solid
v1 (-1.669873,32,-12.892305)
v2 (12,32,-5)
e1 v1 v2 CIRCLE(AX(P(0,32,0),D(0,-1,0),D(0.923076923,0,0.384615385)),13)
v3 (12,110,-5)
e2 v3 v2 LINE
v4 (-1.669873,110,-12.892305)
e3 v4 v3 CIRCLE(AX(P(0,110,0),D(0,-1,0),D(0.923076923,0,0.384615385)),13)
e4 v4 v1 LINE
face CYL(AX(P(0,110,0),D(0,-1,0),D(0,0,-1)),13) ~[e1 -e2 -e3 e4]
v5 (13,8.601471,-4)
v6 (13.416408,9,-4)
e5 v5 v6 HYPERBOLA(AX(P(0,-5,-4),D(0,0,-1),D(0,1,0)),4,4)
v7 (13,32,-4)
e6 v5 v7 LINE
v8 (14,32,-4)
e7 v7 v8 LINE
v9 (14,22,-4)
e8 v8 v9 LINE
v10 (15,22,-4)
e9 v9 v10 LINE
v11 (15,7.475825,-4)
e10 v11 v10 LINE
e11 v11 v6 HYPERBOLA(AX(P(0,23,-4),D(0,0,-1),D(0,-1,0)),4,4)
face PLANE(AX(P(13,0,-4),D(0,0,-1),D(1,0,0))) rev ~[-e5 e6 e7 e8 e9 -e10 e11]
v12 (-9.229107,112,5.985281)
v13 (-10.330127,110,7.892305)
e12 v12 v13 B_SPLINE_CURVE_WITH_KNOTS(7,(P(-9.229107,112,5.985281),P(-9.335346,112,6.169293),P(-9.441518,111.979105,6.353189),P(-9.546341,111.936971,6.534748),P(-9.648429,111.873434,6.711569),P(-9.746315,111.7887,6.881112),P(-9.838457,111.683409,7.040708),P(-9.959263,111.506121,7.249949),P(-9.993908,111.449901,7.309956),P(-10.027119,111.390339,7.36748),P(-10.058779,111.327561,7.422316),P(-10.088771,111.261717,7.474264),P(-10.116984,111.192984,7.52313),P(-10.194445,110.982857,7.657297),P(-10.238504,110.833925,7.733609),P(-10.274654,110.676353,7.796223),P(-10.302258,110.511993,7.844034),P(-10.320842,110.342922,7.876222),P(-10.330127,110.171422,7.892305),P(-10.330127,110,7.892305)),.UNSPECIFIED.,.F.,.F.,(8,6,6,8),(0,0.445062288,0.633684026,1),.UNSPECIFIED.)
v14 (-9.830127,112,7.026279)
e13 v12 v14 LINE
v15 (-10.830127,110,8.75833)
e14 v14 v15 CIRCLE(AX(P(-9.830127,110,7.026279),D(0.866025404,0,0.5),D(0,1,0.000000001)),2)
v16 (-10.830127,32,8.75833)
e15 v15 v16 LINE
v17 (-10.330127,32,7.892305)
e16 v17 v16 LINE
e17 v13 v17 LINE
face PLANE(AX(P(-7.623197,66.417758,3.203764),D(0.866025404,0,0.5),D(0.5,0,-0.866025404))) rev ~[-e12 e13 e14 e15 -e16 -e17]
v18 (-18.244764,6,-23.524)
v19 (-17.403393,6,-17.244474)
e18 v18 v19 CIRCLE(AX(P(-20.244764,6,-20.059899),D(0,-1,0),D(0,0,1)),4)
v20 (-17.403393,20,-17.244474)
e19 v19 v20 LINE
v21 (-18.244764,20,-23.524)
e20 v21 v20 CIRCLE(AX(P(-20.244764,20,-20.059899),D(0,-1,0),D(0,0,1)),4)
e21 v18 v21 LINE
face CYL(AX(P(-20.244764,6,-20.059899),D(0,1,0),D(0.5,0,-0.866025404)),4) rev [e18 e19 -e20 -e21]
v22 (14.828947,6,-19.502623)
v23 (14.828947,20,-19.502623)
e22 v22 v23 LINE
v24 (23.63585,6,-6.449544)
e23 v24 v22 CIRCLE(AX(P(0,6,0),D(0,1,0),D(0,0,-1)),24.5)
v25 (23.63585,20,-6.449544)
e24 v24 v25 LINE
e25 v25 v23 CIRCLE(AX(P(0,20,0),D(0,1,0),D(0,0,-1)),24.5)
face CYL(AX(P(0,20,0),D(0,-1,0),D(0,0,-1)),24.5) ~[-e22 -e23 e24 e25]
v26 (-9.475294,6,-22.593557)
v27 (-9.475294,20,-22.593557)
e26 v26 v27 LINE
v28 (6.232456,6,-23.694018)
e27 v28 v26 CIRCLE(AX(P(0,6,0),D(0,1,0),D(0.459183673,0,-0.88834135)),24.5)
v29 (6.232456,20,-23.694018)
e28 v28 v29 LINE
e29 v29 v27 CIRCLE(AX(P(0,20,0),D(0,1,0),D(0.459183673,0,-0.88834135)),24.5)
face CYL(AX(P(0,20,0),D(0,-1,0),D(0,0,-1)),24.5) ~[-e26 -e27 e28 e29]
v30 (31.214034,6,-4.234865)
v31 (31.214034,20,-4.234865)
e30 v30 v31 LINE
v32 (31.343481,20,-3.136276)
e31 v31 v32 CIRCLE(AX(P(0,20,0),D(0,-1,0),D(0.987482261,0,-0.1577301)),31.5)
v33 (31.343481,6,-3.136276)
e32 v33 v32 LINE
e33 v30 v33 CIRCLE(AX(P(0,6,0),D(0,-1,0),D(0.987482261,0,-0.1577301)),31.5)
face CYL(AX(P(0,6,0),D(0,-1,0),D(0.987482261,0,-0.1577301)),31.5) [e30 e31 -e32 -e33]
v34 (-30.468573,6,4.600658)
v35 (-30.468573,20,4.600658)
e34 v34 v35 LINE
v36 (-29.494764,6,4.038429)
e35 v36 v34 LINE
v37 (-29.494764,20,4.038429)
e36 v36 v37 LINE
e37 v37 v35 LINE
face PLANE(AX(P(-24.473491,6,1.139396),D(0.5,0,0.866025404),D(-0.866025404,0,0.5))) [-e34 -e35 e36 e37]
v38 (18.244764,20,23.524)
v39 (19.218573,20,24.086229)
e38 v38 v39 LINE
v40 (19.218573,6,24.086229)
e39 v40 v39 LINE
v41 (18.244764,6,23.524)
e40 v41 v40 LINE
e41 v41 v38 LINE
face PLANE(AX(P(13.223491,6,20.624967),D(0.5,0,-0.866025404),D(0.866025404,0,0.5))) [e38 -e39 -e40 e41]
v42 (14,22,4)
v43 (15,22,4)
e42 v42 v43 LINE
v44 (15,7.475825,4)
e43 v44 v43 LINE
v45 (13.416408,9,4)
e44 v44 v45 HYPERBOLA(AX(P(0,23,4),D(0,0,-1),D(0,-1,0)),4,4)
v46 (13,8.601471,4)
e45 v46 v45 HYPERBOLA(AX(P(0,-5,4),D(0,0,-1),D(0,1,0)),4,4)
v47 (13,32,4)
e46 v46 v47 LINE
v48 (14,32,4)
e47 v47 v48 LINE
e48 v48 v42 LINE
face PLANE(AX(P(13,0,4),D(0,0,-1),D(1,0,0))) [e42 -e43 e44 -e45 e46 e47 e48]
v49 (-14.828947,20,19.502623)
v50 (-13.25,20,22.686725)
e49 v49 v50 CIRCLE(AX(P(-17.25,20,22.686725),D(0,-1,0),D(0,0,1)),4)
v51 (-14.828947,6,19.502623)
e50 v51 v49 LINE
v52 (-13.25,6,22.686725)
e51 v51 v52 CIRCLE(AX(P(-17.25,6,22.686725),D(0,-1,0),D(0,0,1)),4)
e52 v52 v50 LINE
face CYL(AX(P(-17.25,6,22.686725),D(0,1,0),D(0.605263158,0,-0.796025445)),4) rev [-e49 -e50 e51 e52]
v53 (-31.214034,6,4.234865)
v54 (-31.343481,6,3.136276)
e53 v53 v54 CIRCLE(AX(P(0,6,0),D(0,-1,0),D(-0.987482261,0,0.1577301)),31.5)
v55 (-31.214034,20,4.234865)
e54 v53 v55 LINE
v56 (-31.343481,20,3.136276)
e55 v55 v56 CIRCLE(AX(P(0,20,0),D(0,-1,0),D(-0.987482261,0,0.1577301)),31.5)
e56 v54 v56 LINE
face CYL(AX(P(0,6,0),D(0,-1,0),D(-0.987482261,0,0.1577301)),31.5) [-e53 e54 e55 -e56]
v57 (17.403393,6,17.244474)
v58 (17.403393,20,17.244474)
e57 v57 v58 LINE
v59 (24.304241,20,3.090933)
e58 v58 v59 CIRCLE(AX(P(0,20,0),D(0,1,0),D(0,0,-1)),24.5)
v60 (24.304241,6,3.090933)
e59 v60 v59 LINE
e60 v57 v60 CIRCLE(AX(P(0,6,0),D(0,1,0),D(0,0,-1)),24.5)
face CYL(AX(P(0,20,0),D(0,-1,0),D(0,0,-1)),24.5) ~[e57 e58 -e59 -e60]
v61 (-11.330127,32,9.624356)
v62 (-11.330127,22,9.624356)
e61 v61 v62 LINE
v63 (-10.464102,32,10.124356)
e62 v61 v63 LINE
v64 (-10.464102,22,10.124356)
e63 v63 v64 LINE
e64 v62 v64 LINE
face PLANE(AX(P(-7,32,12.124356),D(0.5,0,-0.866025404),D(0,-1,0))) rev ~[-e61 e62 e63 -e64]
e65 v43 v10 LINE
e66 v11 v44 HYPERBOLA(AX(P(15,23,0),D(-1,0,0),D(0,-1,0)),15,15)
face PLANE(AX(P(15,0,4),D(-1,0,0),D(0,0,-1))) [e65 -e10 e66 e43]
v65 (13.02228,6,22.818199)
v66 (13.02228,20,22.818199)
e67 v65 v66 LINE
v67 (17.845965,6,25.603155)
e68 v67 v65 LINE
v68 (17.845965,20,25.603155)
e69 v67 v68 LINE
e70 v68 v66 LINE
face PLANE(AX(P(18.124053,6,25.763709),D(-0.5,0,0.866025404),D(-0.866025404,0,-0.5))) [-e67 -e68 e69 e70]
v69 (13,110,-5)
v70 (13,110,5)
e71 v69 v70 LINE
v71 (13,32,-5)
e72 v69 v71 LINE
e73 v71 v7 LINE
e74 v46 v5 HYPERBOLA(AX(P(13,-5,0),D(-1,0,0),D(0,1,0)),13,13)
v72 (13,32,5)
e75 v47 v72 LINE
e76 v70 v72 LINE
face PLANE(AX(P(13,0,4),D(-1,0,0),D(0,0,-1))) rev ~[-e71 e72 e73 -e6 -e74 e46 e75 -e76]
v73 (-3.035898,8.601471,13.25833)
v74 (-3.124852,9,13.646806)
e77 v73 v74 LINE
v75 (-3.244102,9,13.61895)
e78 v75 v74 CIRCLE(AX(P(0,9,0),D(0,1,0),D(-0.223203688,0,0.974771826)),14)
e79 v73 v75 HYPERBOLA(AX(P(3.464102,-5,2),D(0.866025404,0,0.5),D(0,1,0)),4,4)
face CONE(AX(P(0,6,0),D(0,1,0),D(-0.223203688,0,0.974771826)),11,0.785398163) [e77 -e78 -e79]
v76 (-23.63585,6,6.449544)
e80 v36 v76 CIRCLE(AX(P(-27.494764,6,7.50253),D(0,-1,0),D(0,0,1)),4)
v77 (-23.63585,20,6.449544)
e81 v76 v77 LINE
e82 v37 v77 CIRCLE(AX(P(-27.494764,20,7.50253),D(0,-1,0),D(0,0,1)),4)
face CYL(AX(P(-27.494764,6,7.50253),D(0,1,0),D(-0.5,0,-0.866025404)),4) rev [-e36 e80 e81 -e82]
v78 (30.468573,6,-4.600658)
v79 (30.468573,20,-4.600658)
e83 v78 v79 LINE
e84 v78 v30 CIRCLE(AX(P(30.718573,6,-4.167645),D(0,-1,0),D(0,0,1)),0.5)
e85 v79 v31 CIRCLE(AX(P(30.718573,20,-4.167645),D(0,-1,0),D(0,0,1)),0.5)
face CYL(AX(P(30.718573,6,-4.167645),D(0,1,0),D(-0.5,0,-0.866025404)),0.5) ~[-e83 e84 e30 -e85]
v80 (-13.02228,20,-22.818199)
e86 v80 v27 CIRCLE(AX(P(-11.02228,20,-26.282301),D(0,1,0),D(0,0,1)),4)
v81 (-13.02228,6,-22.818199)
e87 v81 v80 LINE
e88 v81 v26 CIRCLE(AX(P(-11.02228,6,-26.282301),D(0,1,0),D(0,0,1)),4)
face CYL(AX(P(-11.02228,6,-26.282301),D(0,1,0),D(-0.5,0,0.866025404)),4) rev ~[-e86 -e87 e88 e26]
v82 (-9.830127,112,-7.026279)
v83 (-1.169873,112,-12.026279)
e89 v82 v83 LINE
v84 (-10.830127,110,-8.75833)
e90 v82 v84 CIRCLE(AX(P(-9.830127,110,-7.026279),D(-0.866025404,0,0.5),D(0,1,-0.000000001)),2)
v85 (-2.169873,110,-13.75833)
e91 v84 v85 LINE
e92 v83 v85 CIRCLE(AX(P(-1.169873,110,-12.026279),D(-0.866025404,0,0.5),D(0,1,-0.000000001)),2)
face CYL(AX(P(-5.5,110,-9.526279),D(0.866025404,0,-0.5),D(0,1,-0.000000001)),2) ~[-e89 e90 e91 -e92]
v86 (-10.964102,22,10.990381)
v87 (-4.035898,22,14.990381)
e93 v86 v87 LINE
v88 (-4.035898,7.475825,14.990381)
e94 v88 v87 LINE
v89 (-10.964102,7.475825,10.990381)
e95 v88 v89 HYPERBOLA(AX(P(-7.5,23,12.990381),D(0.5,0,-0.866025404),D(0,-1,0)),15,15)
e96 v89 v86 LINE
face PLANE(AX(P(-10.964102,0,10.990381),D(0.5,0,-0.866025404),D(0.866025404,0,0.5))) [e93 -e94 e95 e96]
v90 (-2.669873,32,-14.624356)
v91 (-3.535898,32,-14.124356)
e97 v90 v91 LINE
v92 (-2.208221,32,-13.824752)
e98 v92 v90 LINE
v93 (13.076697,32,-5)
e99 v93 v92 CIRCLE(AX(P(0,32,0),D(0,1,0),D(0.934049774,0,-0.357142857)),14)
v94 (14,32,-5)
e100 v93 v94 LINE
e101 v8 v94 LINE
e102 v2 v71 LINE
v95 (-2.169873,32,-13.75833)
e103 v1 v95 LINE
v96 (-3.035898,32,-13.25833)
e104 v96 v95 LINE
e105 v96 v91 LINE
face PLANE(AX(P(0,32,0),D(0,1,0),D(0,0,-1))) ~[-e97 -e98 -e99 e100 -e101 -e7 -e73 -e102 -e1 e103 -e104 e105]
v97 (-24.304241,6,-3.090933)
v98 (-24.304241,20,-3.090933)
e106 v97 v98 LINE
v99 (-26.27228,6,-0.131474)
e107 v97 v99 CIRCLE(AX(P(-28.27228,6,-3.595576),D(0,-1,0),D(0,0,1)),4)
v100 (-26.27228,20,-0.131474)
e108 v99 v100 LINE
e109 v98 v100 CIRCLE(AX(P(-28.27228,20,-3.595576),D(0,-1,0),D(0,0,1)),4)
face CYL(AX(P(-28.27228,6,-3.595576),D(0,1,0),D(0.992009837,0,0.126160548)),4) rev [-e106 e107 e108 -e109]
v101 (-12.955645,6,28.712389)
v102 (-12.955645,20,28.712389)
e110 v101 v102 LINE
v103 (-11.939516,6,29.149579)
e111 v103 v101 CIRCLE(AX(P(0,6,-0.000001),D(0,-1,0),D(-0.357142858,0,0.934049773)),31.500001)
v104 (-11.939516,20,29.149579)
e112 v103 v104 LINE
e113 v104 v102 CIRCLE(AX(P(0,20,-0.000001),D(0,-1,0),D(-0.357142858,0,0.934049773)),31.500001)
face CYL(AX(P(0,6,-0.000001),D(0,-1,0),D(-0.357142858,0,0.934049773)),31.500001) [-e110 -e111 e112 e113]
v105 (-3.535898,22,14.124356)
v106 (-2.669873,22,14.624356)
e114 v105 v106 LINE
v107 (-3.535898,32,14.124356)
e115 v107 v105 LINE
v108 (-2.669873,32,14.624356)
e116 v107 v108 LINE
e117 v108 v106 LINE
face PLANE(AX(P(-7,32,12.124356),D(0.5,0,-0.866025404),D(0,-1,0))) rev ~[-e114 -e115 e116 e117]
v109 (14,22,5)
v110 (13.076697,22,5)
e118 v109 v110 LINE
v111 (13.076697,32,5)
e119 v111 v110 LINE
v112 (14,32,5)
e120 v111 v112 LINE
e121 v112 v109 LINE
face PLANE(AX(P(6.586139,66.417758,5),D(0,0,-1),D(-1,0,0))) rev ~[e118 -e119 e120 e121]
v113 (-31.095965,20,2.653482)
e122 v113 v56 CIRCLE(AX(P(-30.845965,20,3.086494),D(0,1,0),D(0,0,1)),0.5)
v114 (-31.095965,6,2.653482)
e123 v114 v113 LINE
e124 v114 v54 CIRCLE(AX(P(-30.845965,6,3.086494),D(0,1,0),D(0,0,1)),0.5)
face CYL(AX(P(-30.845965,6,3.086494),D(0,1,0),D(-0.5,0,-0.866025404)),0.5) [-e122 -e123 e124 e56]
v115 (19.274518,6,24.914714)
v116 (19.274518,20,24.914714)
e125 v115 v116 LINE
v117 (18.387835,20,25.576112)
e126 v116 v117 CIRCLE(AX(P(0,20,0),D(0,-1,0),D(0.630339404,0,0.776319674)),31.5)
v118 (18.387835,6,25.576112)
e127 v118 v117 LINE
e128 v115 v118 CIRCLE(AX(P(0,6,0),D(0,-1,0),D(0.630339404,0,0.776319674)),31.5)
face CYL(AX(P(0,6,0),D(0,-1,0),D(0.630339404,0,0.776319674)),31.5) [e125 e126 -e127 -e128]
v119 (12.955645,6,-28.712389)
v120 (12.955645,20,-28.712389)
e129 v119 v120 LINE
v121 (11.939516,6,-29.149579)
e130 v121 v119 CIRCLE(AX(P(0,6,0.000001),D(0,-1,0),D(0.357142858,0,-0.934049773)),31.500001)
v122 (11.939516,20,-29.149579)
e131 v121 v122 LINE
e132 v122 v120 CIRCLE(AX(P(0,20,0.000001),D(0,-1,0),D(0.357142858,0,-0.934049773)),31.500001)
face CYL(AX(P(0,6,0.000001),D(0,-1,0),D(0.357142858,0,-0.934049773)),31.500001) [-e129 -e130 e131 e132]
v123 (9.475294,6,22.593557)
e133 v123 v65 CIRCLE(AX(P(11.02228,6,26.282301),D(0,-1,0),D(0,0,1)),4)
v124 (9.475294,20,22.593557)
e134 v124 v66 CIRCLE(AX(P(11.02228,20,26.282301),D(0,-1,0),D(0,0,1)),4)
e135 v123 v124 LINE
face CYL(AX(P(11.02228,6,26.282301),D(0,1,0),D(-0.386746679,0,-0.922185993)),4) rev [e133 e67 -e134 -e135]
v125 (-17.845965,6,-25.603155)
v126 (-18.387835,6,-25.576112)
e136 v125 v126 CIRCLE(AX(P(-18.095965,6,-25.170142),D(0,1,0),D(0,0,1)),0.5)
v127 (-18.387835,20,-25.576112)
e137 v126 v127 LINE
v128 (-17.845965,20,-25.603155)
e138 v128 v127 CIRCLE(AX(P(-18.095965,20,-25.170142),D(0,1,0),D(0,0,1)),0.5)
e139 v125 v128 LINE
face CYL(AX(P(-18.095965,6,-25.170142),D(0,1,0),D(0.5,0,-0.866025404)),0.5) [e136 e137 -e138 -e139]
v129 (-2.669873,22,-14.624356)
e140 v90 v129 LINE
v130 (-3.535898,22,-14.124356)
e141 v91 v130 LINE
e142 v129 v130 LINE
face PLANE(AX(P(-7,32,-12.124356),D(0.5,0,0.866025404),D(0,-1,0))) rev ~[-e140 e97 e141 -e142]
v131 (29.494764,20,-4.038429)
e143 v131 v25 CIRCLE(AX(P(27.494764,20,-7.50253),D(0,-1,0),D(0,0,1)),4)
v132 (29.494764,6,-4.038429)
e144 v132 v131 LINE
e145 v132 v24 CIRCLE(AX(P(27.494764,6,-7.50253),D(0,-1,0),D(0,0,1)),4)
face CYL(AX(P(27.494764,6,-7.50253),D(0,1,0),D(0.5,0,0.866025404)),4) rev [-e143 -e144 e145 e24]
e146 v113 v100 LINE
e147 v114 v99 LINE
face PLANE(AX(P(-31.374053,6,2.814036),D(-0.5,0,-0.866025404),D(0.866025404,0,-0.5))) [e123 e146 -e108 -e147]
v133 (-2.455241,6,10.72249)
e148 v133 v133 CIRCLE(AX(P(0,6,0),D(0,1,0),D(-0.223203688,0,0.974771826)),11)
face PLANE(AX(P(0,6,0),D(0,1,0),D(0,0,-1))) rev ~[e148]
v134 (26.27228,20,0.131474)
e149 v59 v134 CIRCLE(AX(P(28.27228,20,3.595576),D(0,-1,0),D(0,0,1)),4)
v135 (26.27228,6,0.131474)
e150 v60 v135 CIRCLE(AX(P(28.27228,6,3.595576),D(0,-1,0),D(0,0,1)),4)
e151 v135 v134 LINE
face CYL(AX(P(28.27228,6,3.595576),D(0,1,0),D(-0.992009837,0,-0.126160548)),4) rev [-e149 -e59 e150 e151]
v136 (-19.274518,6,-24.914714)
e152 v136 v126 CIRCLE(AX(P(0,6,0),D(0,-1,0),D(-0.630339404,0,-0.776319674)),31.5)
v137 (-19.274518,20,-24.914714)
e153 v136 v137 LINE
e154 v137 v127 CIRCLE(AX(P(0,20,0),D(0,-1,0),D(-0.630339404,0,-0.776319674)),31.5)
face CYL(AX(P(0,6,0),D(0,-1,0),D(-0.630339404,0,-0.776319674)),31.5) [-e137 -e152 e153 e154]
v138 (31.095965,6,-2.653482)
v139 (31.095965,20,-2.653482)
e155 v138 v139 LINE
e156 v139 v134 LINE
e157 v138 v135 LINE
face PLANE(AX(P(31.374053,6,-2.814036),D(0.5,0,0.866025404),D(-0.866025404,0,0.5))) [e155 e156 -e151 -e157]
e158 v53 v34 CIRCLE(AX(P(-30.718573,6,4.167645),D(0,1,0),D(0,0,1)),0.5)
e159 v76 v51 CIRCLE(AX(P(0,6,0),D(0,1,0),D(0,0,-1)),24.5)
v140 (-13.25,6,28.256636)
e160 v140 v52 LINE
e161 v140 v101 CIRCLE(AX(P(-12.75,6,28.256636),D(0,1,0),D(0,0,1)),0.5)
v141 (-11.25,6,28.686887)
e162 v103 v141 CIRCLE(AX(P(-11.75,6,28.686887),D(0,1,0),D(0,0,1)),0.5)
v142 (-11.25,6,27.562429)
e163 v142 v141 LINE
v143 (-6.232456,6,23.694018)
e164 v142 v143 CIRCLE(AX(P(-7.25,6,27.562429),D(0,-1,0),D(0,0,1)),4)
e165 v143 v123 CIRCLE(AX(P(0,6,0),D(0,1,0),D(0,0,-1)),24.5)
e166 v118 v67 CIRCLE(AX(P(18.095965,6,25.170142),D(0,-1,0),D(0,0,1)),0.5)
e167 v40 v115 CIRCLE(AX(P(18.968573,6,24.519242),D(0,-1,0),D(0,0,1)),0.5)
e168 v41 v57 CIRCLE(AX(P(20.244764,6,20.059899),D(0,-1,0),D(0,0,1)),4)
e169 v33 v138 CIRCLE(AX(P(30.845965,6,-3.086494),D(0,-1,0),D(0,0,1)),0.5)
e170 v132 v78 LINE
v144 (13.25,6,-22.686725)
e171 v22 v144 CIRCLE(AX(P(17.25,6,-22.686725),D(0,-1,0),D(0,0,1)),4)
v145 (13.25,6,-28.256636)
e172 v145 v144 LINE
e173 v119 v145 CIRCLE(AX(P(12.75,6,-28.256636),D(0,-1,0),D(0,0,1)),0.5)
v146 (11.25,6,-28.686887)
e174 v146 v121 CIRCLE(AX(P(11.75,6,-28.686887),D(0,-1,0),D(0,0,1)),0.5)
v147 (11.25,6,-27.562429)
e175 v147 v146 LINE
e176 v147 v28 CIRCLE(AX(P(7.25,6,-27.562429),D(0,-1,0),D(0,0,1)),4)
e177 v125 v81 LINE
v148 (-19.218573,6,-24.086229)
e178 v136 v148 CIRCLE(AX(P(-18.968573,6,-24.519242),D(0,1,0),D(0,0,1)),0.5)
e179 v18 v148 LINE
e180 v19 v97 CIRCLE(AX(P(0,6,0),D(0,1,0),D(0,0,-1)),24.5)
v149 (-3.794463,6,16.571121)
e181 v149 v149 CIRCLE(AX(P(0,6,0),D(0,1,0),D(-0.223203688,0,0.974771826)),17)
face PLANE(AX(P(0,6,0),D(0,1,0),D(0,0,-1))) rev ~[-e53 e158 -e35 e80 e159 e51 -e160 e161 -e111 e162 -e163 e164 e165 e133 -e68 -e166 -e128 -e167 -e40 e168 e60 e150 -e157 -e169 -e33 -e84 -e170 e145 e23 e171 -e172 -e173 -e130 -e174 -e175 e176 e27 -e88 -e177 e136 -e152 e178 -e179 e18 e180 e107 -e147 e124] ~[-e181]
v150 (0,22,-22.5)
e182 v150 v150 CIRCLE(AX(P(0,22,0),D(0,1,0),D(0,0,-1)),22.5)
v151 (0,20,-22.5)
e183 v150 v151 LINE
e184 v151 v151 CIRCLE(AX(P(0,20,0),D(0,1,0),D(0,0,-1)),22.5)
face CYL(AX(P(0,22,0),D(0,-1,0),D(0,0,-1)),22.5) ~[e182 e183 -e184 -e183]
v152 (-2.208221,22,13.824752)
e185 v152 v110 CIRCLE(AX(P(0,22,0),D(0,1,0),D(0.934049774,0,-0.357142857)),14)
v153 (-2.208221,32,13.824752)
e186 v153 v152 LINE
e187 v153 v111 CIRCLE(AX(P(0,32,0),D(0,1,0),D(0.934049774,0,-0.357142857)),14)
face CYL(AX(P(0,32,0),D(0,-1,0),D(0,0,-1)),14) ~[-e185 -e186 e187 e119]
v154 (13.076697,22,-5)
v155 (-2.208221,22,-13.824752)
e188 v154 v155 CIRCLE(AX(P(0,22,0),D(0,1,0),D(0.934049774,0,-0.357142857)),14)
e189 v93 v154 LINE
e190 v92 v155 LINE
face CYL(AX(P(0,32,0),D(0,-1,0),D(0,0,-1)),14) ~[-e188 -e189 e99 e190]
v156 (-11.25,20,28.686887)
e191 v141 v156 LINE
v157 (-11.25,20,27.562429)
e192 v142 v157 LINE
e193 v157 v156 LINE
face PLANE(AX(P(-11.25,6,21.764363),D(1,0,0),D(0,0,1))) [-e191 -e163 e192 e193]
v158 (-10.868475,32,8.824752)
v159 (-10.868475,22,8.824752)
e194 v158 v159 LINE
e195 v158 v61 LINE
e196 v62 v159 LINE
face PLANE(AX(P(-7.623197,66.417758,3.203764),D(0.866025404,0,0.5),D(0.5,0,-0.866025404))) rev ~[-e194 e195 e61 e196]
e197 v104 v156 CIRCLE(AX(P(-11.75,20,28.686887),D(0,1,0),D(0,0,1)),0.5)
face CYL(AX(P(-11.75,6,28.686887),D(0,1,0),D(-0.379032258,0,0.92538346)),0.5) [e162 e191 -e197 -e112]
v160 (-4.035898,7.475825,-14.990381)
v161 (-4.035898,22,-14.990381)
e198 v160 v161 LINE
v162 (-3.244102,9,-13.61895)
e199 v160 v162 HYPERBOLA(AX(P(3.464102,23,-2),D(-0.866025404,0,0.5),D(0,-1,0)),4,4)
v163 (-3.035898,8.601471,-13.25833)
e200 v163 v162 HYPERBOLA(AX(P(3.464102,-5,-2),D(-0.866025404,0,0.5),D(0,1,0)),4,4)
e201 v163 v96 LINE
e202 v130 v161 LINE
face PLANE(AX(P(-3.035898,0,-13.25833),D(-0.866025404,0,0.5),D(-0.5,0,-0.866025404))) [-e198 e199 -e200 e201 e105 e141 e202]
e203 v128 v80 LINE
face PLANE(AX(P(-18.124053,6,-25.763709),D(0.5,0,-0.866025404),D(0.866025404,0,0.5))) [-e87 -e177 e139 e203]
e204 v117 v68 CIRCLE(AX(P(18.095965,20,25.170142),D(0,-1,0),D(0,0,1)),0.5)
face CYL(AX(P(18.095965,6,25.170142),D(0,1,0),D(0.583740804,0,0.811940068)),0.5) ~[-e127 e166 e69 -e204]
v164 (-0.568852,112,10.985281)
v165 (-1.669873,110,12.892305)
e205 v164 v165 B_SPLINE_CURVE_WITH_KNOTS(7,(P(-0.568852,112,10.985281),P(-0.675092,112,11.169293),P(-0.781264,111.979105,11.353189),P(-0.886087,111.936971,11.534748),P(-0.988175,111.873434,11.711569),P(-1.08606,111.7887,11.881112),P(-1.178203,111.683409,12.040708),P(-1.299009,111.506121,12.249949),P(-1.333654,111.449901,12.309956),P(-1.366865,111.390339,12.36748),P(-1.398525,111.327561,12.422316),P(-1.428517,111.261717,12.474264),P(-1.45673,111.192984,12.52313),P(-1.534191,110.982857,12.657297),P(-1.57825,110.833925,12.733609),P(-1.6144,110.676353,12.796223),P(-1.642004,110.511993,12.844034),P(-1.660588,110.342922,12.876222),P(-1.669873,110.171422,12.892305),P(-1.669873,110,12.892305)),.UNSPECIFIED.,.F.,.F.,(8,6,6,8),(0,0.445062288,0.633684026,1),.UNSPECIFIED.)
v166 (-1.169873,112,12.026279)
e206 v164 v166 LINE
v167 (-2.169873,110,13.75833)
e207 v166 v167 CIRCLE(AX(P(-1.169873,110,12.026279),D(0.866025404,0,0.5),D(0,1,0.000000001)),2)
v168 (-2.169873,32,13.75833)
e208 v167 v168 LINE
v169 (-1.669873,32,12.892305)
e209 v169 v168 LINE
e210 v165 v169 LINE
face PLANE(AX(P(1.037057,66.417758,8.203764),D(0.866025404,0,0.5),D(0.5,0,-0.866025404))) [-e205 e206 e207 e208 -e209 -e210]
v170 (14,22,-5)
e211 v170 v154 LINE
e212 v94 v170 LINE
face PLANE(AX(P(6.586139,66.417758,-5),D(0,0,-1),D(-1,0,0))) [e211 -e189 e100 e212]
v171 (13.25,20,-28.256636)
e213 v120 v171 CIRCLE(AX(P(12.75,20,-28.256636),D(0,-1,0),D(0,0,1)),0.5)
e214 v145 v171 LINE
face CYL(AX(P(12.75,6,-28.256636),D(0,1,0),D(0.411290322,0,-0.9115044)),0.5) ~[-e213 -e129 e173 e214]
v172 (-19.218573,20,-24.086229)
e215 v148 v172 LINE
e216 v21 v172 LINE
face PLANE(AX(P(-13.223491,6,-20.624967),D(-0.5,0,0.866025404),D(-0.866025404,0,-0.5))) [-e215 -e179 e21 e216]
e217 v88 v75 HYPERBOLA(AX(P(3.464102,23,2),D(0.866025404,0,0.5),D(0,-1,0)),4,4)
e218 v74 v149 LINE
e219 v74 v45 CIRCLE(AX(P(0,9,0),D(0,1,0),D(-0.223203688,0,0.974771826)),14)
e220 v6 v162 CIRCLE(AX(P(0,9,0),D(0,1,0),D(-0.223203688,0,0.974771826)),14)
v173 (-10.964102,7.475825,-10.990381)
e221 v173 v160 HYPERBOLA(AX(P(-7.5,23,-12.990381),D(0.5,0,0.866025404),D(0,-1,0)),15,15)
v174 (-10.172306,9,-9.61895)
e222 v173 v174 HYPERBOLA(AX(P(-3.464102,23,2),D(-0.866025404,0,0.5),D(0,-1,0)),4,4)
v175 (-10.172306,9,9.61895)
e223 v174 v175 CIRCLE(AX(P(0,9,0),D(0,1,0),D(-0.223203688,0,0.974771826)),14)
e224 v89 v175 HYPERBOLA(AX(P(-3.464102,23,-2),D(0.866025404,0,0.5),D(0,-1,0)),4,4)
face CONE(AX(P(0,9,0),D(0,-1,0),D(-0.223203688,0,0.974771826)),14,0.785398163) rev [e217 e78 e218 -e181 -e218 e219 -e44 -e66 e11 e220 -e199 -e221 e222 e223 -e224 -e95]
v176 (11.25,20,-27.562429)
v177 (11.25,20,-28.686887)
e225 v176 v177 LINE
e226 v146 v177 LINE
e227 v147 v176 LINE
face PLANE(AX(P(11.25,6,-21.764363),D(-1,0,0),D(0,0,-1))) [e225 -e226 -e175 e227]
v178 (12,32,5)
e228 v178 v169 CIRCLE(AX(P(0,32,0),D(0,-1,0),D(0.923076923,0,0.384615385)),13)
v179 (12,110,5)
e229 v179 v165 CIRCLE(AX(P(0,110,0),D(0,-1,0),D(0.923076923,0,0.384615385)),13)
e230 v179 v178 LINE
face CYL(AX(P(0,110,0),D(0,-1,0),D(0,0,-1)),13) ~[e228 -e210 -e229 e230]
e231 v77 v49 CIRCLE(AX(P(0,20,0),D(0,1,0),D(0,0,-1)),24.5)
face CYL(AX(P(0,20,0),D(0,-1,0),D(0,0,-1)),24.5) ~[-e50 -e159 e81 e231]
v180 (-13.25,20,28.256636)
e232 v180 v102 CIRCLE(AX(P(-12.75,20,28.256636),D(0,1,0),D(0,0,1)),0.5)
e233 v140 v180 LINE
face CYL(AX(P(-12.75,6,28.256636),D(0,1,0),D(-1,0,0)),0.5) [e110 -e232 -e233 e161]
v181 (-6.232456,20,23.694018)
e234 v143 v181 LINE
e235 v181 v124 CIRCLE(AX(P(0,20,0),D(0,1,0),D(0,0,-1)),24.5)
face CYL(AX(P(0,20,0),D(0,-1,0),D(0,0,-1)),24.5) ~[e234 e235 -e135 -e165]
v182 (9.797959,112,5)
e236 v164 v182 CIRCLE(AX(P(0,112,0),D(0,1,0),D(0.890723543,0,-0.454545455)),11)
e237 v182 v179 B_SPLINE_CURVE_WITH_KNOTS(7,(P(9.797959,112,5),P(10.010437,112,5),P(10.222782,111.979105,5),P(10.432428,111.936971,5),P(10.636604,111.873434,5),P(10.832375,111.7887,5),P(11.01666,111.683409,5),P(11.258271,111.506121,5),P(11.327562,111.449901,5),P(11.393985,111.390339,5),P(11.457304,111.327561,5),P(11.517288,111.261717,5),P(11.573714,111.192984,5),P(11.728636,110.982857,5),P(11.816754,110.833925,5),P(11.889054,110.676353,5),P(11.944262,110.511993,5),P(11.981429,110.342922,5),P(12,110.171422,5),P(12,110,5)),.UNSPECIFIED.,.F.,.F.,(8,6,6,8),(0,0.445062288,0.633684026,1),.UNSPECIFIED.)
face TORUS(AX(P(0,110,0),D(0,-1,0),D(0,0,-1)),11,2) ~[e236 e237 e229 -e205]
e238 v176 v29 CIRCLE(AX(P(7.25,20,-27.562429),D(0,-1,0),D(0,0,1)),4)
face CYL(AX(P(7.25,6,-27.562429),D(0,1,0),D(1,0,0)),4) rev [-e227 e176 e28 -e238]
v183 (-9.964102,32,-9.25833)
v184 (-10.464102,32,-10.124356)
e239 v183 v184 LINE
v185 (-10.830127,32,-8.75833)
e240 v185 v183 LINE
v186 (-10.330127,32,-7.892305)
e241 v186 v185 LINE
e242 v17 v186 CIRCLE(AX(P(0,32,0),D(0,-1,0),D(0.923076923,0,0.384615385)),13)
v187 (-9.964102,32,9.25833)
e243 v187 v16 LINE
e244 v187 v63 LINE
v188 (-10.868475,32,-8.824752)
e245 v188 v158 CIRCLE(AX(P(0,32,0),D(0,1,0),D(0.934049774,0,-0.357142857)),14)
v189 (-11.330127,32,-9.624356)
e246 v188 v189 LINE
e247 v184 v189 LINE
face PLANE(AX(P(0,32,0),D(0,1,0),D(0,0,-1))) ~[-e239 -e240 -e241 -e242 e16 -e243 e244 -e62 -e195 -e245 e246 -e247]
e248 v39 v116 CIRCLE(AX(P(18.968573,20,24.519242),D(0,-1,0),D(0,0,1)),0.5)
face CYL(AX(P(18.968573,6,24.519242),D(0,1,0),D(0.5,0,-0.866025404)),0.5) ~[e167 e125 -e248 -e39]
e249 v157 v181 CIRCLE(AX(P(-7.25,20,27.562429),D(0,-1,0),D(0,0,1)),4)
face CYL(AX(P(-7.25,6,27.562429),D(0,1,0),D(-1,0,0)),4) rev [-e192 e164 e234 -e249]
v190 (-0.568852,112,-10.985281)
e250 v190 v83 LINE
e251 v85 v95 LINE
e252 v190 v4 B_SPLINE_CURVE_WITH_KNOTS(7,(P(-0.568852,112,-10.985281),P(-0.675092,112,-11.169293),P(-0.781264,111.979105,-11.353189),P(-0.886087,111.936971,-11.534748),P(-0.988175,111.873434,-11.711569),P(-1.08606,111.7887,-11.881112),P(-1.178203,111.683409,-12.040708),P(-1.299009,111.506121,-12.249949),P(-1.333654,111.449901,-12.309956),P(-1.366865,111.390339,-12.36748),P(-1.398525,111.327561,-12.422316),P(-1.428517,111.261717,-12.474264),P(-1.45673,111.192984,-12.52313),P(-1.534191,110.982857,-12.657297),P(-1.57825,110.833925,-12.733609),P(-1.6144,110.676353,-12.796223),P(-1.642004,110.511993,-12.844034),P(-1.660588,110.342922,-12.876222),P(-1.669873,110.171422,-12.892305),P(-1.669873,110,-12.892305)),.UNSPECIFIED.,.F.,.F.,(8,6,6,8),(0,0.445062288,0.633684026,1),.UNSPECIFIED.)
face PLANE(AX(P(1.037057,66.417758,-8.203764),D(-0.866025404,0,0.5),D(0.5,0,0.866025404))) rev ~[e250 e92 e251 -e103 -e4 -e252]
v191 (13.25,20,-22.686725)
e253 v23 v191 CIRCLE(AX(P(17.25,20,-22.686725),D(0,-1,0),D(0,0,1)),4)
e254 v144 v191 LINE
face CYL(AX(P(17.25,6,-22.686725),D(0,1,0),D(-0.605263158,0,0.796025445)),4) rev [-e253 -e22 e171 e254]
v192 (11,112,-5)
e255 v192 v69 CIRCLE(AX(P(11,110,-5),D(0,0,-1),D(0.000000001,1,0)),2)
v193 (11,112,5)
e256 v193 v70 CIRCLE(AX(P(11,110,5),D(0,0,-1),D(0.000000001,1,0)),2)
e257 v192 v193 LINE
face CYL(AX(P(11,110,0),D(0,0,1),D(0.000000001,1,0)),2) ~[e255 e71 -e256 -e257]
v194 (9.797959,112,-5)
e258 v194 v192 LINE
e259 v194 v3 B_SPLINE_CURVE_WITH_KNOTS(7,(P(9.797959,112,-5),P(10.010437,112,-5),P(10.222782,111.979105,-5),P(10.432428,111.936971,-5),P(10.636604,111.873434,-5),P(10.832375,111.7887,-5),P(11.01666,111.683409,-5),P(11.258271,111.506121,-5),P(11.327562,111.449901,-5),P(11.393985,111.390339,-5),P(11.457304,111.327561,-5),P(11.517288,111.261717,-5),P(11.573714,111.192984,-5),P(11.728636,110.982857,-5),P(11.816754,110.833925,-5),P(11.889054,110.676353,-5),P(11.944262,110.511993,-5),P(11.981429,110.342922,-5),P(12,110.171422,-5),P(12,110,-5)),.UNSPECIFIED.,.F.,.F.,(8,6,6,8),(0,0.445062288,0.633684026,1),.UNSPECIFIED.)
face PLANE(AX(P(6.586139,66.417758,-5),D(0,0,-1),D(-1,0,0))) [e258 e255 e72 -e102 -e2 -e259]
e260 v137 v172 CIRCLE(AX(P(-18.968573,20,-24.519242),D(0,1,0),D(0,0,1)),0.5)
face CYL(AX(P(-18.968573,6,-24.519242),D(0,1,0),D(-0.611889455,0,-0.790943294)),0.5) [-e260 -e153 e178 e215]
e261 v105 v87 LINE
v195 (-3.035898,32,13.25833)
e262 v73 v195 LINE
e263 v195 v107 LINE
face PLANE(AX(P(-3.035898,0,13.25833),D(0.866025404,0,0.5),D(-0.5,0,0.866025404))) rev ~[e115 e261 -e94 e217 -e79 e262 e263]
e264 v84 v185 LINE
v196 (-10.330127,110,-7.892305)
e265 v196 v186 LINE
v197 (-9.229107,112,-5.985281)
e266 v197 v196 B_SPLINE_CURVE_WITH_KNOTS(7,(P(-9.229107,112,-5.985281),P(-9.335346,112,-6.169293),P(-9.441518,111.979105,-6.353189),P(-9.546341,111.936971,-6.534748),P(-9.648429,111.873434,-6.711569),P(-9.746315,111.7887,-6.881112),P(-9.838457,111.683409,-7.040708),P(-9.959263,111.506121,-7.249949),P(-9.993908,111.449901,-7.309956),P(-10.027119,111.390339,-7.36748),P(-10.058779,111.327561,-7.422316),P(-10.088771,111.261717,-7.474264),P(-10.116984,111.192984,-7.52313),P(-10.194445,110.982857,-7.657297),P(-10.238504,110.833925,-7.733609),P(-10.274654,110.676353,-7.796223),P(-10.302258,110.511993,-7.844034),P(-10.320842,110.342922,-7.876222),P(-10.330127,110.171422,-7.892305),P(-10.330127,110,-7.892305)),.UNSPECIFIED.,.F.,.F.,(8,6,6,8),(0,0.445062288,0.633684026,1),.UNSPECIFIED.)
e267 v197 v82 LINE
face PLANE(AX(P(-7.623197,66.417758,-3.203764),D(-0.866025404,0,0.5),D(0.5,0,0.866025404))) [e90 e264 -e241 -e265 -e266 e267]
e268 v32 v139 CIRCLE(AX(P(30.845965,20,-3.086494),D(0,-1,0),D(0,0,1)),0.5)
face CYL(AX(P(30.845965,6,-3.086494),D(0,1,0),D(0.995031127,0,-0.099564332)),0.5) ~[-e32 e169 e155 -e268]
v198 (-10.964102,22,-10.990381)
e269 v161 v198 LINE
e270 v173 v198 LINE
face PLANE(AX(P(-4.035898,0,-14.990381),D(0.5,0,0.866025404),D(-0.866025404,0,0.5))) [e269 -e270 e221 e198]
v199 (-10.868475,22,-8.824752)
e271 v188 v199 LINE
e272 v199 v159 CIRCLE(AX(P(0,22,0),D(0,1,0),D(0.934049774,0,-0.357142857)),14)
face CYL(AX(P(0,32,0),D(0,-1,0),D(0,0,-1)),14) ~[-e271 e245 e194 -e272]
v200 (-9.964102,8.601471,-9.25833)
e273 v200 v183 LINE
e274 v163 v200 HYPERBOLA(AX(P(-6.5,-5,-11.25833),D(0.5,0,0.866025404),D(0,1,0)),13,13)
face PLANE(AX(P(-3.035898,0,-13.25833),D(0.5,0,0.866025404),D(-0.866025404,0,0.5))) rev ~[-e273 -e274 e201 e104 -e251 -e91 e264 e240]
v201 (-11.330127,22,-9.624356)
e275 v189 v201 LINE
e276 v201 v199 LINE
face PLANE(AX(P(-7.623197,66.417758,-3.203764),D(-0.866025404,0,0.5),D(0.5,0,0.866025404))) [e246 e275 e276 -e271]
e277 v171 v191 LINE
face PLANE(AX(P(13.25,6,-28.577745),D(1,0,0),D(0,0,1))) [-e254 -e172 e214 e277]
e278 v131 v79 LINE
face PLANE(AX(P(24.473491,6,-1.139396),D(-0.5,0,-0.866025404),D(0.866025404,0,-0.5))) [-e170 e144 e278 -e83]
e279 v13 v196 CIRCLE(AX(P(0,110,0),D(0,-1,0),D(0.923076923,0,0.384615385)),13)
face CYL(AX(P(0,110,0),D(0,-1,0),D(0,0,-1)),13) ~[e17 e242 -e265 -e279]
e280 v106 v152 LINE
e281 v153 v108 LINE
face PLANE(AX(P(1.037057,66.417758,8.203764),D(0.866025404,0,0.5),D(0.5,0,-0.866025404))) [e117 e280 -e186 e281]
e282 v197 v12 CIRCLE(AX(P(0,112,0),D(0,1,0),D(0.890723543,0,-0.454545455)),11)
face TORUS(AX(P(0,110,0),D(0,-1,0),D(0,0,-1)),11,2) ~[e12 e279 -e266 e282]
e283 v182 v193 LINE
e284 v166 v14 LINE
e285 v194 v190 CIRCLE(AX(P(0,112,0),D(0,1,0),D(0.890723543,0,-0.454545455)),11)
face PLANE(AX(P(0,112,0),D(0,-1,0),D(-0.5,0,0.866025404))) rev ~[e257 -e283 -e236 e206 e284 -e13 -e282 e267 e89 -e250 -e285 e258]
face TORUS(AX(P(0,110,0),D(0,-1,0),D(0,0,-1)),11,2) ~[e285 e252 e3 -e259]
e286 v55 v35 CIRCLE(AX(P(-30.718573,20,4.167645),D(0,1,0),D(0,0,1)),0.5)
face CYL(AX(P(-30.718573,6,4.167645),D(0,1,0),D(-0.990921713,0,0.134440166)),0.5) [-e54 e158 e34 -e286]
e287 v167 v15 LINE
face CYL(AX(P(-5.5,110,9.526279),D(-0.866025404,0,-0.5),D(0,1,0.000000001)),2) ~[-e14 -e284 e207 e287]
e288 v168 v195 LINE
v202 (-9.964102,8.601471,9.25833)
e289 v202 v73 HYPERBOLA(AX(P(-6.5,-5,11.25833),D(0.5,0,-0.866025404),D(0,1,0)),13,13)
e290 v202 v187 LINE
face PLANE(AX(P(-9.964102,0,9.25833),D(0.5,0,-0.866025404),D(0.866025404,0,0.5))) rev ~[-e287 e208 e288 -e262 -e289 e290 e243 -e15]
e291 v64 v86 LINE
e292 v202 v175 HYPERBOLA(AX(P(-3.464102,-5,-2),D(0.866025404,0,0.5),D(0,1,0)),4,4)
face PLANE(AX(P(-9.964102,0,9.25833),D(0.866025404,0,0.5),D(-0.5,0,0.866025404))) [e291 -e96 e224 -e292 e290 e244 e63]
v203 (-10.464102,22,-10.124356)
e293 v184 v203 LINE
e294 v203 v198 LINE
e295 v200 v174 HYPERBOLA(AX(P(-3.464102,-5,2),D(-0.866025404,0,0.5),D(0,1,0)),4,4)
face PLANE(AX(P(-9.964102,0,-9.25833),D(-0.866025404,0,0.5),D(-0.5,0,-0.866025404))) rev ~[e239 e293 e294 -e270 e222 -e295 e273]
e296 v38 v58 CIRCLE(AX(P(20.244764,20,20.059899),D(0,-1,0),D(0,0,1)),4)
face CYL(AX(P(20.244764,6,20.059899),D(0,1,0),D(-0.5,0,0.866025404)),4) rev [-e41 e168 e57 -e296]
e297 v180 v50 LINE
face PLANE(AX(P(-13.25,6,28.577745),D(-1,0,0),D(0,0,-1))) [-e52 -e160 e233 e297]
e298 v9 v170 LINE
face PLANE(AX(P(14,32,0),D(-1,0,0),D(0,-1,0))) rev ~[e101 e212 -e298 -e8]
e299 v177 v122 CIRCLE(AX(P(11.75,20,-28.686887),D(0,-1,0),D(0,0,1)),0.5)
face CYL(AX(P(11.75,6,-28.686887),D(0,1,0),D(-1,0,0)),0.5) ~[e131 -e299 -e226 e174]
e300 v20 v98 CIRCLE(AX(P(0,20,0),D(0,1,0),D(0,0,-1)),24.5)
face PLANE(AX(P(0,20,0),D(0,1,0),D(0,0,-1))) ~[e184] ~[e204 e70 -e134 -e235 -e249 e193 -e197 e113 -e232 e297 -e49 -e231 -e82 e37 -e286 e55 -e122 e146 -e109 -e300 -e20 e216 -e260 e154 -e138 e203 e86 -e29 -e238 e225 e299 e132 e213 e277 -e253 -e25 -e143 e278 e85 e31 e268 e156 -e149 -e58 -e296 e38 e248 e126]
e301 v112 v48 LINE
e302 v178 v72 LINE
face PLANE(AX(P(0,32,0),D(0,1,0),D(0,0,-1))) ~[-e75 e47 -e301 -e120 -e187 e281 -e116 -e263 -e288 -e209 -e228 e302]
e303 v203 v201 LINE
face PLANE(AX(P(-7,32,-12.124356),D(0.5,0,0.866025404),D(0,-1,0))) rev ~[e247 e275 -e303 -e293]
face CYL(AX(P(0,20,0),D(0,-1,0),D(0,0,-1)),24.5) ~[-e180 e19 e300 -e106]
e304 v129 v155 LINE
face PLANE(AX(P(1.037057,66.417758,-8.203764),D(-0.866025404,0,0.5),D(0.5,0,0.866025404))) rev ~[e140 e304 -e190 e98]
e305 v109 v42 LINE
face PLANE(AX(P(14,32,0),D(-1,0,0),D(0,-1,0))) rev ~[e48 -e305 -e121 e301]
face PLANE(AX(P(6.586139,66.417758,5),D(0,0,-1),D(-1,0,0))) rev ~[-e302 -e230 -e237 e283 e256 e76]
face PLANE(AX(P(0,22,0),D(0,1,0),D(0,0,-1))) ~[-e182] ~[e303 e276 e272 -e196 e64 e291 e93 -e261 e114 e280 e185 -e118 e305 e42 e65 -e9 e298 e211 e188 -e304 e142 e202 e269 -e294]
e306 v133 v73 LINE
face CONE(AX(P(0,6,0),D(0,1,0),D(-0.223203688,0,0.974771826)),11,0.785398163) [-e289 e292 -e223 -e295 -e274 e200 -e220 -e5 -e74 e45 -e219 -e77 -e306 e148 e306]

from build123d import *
from build123d.topology import SkipClean

# Parameters (mm, degrees)
BOSS_EXTRUDE1_DEPTH = 5
CIRPATTERN1_COUNT   = 3
BOSS_EXTRUDE2_START = 6
BOSS_EXTRUDE2_DEPTH = 14
FILLET1_R           = 4
FILLET2_R           = 0.5
SKETCH15_W          = 2
SKETCH15_H          = 8
CUT_EXTRUDE1_DEPTH  = 120.910149393
CIRPATTERN2_COUNT   = 3


with BuildPart() as part:
    # Sketch8 → Revolve1 (revolve)
    with BuildSketch(Plane.XY, mode=Mode.PRIVATE) as revolve1_sk:
        with BuildLine():
            Line((13, 32), (14, 32))
            Line((14, 32), (14, 22))
            Line((14, 22), (22.5, 22))
            Line((22.5, 22), (22.5, 20))
            Line((22.5, 20), (24.5, 20))
            Line((24.5, 20), (24.5, 6))
            Line((24.5, 6), (0, 6))
            Line((0, 6), (0, 112))
            Line((0, 112), (11, 112))
            ThreePointArc((11, 112), (12.414213562, 111.414213562), (13, 110))
            Line((13, 110), (13, 32))
        make_face()
    revolve(revolve1_sk.sketch.rotate(Axis((0, 22, 0), (0, 1, 0)), 90), axis=Axis((0, 22, 0), (0, 1, 0)))

    # Sketch9 → Boss-Extrude1 (add, symmetric)
    with BuildSketch(Plane.XY):
        with BuildLine():
            Line((13, 32), (14, 32))
            Line((14, 32), (14, 22))
            Line((14, 22), (0, 22))
            Line((0, 22), (0, 112))
            Line((0, 112), (11, 112))
            ThreePointArc((11, 112), (12.414213562, 111.414213562), (13, 110))
            Line((13, 110), (13, 32))
        make_face()
    boss_extrude1 = extrude(amount=BOSS_EXTRUDE1_DEPTH, both=True)

    # CirPattern1: Boss-Extrude1 ×3 about axis
    cirpattern1_axis = Axis((0, 0, 0), (0, 1, 0))
    for i in range(1, CIRPATTERN1_COUNT):
        add(boss_extrude1.rotate(cirpattern1_axis, i * 360 / CIRPATTERN1_COUNT))

    # Sketch13 → Boss-Extrude2 (add)
    with BuildSketch(Plane(origin=(0, 0, 0), x_dir=(1, 0, 0), z_dir=(0, 1, 0)).offset(BOSS_EXTRUDE2_START)):
        with BuildLine():
            Line((-24.473491319, -1.139395744), (-31.105691219, -4.968498142))
            ThreePointArc((-31.105691219, -4.968498142), (-31.258439449, -3.893579744), (-31.374053012, -2.814035819))
            Line((-31.374053012, -2.814035819), (-24.472006051, 1.170862852))
            ThreePointArc((-24.472006051, 1.170862852), (-24.499994937, 0.015751071), (-24.473491319, -1.139395744))
        make_face()
        with BuildLine():
            Line((13.223491319, -20.624967329), (19.855691219, -24.454069727))
            ThreePointArc((19.855691219, -24.454069727), (19.001158695, -25.123812773), (18.124053012, -25.763709019))
            Line((18.124053012, -25.763709019), (11.222006051, -21.778810348))
            ThreePointArc((11.222006051, -21.778810348), (12.236356641, -21.225493543), (13.223491319, -20.624967329))
        make_face()
        with BuildLine():
            Line((24.473491319, 1.139395744), (31.105691219, 4.968498142))
            ThreePointArc((31.105691219, 4.968498142), (31.258439449, 3.893579744), (31.374053012, 2.814035819))
            Line((31.374053012, 2.814035819), (24.472006051, -1.170862852))
            ThreePointArc((24.472006051, -1.170862852), (24.499994937, -0.015751071), (24.473491319, 1.139395744))
        make_face()
        with BuildLine():
            Line((11.25, 21.764363074), (11.25, 29.422567869))
            ThreePointArc((11.25, 29.422567869), (12.257280754, 29.017392517), (13.25, 28.577744838))
            Line((13.25, 28.577744838), (13.25, 20.607947496))
            ThreePointArc((13.25, 20.607947496), (12.263638296, 21.209742473), (11.25, 21.764363074))
        make_face()
        with BuildLine():
            Line((-13.223491319, 20.624967329), (-19.855691219, 24.454069727))
            ThreePointArc((-19.855691219, 24.454069727), (-19.001158695, 25.123812773), (-18.124053012, 25.763709019))
            Line((-18.124053012, 25.763709019), (-11.222006051, 21.778810348))
            ThreePointArc((-11.222006051, 21.778810348), (-12.236356641, 21.225493543), (-13.223491319, 20.624967329))
        make_face()
        with BuildLine():
            Line((-11.25, -21.764363074), (-11.25, -29.422567869))
            ThreePointArc((-11.25, -29.422567869), (-12.257280754, -29.017392517), (-13.25, -28.577744838))
            Line((-13.25, -28.577744838), (-13.25, -20.607947496))
            ThreePointArc((-13.25, -20.607947496), (-12.263638296, -21.209742473), (-11.25, -21.764363074))
        make_face()
    extrude(amount=BOSS_EXTRUDE2_DEPTH)

    # Fillet1
    fillet1_edges = [part.edges().sort_by_distance(p)[0] for p in [
        (-24.473491319, 13, 1.139395744),
        (-24.472006051, 13, -1.170862852),
        (-11.25, 13, 21.764363074),
        (-13.25, 13, 20.607947496),
        (-13.223491319, 13, -20.624967329),
        (-11.222006051, 13, -21.778810348),
        (11.25, 13, -21.764363074),
        (13.25, 13, -20.607947496),
        (24.473491319, 13, -1.139395744),
        (24.472006051, 13, 1.170862852),
        (13.223491319, 13, 20.624967329),
        (11.222006051, 13, 21.778810348),
    ]]
    fillet(fillet1_edges, radius=FILLET1_R)

    # Fillet2
    fillet2_edges = [part.edges().sort_by_distance(p)[0] for p in [
        (-31.374053012, 13, 2.814035819),
        (-31.105691219, 13, 4.968498142),
        (-13.25, 13, 28.577744838),
        (-11.25, 13, 29.422567869),
        (-18.124053012, 13, -25.763709019),
        (-19.855691219, 13, -24.454069727),
        (13.25, 13, -28.577744838),
        (11.25, 13, -29.422567869),
        (31.374053012, 13, -2.814035819),
        (31.105691219, 13, -4.968498142),
        (18.124053012, 13, 25.763709019),
        (19.855691219, 13, 24.454069727),
    ]]
    fillet(fillet2_edges, radius=FILLET2_R)

    # Sketch15 → Cut-Extrude1 (cut, through all)
    with BuildSketch(Plane(origin=(0, 0, 0), x_dir=(1, 0, 0), z_dir=(0, 1, 0))):
        with Locations((14, 0)):
            Rectangle(SKETCH15_W, SKETCH15_H)
    cut_extrude1 = extrude(amount=CUT_EXTRUDE1_DEPTH, mode=Mode.SUBTRACT)

    # CirPattern2: Cut-Extrude1 ×3 about axis
    cirpattern2_axis = Axis((0, 0, 0), (0, 1, 0))
    for i in range(1, CIRPATTERN2_COUNT):
        add(cut_extrude1.rotate(cirpattern2_axis, i * 360 / CIRPATTERN2_COUNT), mode=Mode.SUBTRACT)

    # Sketch16 → Cut-Revolve1 (revolve, cut)
    with SkipClean():  # the faces are left unmerged after this step: merging them gives an invalid solid
        with BuildSketch(Plane.XY, mode=Mode.PRIVATE) as cut_revolve1_sk:
            Polygon((11, 6), (14, 9), (17, 6), align=None)
        revolve(cut_revolve1_sk.sketch.rotate(Axis((0, 0, 0), (0, 1, 0)), 257.102728972), axis=Axis((0, 0, 0), (0, 1, 0)), mode=Mode.SUBTRACT)


solid = part.part
